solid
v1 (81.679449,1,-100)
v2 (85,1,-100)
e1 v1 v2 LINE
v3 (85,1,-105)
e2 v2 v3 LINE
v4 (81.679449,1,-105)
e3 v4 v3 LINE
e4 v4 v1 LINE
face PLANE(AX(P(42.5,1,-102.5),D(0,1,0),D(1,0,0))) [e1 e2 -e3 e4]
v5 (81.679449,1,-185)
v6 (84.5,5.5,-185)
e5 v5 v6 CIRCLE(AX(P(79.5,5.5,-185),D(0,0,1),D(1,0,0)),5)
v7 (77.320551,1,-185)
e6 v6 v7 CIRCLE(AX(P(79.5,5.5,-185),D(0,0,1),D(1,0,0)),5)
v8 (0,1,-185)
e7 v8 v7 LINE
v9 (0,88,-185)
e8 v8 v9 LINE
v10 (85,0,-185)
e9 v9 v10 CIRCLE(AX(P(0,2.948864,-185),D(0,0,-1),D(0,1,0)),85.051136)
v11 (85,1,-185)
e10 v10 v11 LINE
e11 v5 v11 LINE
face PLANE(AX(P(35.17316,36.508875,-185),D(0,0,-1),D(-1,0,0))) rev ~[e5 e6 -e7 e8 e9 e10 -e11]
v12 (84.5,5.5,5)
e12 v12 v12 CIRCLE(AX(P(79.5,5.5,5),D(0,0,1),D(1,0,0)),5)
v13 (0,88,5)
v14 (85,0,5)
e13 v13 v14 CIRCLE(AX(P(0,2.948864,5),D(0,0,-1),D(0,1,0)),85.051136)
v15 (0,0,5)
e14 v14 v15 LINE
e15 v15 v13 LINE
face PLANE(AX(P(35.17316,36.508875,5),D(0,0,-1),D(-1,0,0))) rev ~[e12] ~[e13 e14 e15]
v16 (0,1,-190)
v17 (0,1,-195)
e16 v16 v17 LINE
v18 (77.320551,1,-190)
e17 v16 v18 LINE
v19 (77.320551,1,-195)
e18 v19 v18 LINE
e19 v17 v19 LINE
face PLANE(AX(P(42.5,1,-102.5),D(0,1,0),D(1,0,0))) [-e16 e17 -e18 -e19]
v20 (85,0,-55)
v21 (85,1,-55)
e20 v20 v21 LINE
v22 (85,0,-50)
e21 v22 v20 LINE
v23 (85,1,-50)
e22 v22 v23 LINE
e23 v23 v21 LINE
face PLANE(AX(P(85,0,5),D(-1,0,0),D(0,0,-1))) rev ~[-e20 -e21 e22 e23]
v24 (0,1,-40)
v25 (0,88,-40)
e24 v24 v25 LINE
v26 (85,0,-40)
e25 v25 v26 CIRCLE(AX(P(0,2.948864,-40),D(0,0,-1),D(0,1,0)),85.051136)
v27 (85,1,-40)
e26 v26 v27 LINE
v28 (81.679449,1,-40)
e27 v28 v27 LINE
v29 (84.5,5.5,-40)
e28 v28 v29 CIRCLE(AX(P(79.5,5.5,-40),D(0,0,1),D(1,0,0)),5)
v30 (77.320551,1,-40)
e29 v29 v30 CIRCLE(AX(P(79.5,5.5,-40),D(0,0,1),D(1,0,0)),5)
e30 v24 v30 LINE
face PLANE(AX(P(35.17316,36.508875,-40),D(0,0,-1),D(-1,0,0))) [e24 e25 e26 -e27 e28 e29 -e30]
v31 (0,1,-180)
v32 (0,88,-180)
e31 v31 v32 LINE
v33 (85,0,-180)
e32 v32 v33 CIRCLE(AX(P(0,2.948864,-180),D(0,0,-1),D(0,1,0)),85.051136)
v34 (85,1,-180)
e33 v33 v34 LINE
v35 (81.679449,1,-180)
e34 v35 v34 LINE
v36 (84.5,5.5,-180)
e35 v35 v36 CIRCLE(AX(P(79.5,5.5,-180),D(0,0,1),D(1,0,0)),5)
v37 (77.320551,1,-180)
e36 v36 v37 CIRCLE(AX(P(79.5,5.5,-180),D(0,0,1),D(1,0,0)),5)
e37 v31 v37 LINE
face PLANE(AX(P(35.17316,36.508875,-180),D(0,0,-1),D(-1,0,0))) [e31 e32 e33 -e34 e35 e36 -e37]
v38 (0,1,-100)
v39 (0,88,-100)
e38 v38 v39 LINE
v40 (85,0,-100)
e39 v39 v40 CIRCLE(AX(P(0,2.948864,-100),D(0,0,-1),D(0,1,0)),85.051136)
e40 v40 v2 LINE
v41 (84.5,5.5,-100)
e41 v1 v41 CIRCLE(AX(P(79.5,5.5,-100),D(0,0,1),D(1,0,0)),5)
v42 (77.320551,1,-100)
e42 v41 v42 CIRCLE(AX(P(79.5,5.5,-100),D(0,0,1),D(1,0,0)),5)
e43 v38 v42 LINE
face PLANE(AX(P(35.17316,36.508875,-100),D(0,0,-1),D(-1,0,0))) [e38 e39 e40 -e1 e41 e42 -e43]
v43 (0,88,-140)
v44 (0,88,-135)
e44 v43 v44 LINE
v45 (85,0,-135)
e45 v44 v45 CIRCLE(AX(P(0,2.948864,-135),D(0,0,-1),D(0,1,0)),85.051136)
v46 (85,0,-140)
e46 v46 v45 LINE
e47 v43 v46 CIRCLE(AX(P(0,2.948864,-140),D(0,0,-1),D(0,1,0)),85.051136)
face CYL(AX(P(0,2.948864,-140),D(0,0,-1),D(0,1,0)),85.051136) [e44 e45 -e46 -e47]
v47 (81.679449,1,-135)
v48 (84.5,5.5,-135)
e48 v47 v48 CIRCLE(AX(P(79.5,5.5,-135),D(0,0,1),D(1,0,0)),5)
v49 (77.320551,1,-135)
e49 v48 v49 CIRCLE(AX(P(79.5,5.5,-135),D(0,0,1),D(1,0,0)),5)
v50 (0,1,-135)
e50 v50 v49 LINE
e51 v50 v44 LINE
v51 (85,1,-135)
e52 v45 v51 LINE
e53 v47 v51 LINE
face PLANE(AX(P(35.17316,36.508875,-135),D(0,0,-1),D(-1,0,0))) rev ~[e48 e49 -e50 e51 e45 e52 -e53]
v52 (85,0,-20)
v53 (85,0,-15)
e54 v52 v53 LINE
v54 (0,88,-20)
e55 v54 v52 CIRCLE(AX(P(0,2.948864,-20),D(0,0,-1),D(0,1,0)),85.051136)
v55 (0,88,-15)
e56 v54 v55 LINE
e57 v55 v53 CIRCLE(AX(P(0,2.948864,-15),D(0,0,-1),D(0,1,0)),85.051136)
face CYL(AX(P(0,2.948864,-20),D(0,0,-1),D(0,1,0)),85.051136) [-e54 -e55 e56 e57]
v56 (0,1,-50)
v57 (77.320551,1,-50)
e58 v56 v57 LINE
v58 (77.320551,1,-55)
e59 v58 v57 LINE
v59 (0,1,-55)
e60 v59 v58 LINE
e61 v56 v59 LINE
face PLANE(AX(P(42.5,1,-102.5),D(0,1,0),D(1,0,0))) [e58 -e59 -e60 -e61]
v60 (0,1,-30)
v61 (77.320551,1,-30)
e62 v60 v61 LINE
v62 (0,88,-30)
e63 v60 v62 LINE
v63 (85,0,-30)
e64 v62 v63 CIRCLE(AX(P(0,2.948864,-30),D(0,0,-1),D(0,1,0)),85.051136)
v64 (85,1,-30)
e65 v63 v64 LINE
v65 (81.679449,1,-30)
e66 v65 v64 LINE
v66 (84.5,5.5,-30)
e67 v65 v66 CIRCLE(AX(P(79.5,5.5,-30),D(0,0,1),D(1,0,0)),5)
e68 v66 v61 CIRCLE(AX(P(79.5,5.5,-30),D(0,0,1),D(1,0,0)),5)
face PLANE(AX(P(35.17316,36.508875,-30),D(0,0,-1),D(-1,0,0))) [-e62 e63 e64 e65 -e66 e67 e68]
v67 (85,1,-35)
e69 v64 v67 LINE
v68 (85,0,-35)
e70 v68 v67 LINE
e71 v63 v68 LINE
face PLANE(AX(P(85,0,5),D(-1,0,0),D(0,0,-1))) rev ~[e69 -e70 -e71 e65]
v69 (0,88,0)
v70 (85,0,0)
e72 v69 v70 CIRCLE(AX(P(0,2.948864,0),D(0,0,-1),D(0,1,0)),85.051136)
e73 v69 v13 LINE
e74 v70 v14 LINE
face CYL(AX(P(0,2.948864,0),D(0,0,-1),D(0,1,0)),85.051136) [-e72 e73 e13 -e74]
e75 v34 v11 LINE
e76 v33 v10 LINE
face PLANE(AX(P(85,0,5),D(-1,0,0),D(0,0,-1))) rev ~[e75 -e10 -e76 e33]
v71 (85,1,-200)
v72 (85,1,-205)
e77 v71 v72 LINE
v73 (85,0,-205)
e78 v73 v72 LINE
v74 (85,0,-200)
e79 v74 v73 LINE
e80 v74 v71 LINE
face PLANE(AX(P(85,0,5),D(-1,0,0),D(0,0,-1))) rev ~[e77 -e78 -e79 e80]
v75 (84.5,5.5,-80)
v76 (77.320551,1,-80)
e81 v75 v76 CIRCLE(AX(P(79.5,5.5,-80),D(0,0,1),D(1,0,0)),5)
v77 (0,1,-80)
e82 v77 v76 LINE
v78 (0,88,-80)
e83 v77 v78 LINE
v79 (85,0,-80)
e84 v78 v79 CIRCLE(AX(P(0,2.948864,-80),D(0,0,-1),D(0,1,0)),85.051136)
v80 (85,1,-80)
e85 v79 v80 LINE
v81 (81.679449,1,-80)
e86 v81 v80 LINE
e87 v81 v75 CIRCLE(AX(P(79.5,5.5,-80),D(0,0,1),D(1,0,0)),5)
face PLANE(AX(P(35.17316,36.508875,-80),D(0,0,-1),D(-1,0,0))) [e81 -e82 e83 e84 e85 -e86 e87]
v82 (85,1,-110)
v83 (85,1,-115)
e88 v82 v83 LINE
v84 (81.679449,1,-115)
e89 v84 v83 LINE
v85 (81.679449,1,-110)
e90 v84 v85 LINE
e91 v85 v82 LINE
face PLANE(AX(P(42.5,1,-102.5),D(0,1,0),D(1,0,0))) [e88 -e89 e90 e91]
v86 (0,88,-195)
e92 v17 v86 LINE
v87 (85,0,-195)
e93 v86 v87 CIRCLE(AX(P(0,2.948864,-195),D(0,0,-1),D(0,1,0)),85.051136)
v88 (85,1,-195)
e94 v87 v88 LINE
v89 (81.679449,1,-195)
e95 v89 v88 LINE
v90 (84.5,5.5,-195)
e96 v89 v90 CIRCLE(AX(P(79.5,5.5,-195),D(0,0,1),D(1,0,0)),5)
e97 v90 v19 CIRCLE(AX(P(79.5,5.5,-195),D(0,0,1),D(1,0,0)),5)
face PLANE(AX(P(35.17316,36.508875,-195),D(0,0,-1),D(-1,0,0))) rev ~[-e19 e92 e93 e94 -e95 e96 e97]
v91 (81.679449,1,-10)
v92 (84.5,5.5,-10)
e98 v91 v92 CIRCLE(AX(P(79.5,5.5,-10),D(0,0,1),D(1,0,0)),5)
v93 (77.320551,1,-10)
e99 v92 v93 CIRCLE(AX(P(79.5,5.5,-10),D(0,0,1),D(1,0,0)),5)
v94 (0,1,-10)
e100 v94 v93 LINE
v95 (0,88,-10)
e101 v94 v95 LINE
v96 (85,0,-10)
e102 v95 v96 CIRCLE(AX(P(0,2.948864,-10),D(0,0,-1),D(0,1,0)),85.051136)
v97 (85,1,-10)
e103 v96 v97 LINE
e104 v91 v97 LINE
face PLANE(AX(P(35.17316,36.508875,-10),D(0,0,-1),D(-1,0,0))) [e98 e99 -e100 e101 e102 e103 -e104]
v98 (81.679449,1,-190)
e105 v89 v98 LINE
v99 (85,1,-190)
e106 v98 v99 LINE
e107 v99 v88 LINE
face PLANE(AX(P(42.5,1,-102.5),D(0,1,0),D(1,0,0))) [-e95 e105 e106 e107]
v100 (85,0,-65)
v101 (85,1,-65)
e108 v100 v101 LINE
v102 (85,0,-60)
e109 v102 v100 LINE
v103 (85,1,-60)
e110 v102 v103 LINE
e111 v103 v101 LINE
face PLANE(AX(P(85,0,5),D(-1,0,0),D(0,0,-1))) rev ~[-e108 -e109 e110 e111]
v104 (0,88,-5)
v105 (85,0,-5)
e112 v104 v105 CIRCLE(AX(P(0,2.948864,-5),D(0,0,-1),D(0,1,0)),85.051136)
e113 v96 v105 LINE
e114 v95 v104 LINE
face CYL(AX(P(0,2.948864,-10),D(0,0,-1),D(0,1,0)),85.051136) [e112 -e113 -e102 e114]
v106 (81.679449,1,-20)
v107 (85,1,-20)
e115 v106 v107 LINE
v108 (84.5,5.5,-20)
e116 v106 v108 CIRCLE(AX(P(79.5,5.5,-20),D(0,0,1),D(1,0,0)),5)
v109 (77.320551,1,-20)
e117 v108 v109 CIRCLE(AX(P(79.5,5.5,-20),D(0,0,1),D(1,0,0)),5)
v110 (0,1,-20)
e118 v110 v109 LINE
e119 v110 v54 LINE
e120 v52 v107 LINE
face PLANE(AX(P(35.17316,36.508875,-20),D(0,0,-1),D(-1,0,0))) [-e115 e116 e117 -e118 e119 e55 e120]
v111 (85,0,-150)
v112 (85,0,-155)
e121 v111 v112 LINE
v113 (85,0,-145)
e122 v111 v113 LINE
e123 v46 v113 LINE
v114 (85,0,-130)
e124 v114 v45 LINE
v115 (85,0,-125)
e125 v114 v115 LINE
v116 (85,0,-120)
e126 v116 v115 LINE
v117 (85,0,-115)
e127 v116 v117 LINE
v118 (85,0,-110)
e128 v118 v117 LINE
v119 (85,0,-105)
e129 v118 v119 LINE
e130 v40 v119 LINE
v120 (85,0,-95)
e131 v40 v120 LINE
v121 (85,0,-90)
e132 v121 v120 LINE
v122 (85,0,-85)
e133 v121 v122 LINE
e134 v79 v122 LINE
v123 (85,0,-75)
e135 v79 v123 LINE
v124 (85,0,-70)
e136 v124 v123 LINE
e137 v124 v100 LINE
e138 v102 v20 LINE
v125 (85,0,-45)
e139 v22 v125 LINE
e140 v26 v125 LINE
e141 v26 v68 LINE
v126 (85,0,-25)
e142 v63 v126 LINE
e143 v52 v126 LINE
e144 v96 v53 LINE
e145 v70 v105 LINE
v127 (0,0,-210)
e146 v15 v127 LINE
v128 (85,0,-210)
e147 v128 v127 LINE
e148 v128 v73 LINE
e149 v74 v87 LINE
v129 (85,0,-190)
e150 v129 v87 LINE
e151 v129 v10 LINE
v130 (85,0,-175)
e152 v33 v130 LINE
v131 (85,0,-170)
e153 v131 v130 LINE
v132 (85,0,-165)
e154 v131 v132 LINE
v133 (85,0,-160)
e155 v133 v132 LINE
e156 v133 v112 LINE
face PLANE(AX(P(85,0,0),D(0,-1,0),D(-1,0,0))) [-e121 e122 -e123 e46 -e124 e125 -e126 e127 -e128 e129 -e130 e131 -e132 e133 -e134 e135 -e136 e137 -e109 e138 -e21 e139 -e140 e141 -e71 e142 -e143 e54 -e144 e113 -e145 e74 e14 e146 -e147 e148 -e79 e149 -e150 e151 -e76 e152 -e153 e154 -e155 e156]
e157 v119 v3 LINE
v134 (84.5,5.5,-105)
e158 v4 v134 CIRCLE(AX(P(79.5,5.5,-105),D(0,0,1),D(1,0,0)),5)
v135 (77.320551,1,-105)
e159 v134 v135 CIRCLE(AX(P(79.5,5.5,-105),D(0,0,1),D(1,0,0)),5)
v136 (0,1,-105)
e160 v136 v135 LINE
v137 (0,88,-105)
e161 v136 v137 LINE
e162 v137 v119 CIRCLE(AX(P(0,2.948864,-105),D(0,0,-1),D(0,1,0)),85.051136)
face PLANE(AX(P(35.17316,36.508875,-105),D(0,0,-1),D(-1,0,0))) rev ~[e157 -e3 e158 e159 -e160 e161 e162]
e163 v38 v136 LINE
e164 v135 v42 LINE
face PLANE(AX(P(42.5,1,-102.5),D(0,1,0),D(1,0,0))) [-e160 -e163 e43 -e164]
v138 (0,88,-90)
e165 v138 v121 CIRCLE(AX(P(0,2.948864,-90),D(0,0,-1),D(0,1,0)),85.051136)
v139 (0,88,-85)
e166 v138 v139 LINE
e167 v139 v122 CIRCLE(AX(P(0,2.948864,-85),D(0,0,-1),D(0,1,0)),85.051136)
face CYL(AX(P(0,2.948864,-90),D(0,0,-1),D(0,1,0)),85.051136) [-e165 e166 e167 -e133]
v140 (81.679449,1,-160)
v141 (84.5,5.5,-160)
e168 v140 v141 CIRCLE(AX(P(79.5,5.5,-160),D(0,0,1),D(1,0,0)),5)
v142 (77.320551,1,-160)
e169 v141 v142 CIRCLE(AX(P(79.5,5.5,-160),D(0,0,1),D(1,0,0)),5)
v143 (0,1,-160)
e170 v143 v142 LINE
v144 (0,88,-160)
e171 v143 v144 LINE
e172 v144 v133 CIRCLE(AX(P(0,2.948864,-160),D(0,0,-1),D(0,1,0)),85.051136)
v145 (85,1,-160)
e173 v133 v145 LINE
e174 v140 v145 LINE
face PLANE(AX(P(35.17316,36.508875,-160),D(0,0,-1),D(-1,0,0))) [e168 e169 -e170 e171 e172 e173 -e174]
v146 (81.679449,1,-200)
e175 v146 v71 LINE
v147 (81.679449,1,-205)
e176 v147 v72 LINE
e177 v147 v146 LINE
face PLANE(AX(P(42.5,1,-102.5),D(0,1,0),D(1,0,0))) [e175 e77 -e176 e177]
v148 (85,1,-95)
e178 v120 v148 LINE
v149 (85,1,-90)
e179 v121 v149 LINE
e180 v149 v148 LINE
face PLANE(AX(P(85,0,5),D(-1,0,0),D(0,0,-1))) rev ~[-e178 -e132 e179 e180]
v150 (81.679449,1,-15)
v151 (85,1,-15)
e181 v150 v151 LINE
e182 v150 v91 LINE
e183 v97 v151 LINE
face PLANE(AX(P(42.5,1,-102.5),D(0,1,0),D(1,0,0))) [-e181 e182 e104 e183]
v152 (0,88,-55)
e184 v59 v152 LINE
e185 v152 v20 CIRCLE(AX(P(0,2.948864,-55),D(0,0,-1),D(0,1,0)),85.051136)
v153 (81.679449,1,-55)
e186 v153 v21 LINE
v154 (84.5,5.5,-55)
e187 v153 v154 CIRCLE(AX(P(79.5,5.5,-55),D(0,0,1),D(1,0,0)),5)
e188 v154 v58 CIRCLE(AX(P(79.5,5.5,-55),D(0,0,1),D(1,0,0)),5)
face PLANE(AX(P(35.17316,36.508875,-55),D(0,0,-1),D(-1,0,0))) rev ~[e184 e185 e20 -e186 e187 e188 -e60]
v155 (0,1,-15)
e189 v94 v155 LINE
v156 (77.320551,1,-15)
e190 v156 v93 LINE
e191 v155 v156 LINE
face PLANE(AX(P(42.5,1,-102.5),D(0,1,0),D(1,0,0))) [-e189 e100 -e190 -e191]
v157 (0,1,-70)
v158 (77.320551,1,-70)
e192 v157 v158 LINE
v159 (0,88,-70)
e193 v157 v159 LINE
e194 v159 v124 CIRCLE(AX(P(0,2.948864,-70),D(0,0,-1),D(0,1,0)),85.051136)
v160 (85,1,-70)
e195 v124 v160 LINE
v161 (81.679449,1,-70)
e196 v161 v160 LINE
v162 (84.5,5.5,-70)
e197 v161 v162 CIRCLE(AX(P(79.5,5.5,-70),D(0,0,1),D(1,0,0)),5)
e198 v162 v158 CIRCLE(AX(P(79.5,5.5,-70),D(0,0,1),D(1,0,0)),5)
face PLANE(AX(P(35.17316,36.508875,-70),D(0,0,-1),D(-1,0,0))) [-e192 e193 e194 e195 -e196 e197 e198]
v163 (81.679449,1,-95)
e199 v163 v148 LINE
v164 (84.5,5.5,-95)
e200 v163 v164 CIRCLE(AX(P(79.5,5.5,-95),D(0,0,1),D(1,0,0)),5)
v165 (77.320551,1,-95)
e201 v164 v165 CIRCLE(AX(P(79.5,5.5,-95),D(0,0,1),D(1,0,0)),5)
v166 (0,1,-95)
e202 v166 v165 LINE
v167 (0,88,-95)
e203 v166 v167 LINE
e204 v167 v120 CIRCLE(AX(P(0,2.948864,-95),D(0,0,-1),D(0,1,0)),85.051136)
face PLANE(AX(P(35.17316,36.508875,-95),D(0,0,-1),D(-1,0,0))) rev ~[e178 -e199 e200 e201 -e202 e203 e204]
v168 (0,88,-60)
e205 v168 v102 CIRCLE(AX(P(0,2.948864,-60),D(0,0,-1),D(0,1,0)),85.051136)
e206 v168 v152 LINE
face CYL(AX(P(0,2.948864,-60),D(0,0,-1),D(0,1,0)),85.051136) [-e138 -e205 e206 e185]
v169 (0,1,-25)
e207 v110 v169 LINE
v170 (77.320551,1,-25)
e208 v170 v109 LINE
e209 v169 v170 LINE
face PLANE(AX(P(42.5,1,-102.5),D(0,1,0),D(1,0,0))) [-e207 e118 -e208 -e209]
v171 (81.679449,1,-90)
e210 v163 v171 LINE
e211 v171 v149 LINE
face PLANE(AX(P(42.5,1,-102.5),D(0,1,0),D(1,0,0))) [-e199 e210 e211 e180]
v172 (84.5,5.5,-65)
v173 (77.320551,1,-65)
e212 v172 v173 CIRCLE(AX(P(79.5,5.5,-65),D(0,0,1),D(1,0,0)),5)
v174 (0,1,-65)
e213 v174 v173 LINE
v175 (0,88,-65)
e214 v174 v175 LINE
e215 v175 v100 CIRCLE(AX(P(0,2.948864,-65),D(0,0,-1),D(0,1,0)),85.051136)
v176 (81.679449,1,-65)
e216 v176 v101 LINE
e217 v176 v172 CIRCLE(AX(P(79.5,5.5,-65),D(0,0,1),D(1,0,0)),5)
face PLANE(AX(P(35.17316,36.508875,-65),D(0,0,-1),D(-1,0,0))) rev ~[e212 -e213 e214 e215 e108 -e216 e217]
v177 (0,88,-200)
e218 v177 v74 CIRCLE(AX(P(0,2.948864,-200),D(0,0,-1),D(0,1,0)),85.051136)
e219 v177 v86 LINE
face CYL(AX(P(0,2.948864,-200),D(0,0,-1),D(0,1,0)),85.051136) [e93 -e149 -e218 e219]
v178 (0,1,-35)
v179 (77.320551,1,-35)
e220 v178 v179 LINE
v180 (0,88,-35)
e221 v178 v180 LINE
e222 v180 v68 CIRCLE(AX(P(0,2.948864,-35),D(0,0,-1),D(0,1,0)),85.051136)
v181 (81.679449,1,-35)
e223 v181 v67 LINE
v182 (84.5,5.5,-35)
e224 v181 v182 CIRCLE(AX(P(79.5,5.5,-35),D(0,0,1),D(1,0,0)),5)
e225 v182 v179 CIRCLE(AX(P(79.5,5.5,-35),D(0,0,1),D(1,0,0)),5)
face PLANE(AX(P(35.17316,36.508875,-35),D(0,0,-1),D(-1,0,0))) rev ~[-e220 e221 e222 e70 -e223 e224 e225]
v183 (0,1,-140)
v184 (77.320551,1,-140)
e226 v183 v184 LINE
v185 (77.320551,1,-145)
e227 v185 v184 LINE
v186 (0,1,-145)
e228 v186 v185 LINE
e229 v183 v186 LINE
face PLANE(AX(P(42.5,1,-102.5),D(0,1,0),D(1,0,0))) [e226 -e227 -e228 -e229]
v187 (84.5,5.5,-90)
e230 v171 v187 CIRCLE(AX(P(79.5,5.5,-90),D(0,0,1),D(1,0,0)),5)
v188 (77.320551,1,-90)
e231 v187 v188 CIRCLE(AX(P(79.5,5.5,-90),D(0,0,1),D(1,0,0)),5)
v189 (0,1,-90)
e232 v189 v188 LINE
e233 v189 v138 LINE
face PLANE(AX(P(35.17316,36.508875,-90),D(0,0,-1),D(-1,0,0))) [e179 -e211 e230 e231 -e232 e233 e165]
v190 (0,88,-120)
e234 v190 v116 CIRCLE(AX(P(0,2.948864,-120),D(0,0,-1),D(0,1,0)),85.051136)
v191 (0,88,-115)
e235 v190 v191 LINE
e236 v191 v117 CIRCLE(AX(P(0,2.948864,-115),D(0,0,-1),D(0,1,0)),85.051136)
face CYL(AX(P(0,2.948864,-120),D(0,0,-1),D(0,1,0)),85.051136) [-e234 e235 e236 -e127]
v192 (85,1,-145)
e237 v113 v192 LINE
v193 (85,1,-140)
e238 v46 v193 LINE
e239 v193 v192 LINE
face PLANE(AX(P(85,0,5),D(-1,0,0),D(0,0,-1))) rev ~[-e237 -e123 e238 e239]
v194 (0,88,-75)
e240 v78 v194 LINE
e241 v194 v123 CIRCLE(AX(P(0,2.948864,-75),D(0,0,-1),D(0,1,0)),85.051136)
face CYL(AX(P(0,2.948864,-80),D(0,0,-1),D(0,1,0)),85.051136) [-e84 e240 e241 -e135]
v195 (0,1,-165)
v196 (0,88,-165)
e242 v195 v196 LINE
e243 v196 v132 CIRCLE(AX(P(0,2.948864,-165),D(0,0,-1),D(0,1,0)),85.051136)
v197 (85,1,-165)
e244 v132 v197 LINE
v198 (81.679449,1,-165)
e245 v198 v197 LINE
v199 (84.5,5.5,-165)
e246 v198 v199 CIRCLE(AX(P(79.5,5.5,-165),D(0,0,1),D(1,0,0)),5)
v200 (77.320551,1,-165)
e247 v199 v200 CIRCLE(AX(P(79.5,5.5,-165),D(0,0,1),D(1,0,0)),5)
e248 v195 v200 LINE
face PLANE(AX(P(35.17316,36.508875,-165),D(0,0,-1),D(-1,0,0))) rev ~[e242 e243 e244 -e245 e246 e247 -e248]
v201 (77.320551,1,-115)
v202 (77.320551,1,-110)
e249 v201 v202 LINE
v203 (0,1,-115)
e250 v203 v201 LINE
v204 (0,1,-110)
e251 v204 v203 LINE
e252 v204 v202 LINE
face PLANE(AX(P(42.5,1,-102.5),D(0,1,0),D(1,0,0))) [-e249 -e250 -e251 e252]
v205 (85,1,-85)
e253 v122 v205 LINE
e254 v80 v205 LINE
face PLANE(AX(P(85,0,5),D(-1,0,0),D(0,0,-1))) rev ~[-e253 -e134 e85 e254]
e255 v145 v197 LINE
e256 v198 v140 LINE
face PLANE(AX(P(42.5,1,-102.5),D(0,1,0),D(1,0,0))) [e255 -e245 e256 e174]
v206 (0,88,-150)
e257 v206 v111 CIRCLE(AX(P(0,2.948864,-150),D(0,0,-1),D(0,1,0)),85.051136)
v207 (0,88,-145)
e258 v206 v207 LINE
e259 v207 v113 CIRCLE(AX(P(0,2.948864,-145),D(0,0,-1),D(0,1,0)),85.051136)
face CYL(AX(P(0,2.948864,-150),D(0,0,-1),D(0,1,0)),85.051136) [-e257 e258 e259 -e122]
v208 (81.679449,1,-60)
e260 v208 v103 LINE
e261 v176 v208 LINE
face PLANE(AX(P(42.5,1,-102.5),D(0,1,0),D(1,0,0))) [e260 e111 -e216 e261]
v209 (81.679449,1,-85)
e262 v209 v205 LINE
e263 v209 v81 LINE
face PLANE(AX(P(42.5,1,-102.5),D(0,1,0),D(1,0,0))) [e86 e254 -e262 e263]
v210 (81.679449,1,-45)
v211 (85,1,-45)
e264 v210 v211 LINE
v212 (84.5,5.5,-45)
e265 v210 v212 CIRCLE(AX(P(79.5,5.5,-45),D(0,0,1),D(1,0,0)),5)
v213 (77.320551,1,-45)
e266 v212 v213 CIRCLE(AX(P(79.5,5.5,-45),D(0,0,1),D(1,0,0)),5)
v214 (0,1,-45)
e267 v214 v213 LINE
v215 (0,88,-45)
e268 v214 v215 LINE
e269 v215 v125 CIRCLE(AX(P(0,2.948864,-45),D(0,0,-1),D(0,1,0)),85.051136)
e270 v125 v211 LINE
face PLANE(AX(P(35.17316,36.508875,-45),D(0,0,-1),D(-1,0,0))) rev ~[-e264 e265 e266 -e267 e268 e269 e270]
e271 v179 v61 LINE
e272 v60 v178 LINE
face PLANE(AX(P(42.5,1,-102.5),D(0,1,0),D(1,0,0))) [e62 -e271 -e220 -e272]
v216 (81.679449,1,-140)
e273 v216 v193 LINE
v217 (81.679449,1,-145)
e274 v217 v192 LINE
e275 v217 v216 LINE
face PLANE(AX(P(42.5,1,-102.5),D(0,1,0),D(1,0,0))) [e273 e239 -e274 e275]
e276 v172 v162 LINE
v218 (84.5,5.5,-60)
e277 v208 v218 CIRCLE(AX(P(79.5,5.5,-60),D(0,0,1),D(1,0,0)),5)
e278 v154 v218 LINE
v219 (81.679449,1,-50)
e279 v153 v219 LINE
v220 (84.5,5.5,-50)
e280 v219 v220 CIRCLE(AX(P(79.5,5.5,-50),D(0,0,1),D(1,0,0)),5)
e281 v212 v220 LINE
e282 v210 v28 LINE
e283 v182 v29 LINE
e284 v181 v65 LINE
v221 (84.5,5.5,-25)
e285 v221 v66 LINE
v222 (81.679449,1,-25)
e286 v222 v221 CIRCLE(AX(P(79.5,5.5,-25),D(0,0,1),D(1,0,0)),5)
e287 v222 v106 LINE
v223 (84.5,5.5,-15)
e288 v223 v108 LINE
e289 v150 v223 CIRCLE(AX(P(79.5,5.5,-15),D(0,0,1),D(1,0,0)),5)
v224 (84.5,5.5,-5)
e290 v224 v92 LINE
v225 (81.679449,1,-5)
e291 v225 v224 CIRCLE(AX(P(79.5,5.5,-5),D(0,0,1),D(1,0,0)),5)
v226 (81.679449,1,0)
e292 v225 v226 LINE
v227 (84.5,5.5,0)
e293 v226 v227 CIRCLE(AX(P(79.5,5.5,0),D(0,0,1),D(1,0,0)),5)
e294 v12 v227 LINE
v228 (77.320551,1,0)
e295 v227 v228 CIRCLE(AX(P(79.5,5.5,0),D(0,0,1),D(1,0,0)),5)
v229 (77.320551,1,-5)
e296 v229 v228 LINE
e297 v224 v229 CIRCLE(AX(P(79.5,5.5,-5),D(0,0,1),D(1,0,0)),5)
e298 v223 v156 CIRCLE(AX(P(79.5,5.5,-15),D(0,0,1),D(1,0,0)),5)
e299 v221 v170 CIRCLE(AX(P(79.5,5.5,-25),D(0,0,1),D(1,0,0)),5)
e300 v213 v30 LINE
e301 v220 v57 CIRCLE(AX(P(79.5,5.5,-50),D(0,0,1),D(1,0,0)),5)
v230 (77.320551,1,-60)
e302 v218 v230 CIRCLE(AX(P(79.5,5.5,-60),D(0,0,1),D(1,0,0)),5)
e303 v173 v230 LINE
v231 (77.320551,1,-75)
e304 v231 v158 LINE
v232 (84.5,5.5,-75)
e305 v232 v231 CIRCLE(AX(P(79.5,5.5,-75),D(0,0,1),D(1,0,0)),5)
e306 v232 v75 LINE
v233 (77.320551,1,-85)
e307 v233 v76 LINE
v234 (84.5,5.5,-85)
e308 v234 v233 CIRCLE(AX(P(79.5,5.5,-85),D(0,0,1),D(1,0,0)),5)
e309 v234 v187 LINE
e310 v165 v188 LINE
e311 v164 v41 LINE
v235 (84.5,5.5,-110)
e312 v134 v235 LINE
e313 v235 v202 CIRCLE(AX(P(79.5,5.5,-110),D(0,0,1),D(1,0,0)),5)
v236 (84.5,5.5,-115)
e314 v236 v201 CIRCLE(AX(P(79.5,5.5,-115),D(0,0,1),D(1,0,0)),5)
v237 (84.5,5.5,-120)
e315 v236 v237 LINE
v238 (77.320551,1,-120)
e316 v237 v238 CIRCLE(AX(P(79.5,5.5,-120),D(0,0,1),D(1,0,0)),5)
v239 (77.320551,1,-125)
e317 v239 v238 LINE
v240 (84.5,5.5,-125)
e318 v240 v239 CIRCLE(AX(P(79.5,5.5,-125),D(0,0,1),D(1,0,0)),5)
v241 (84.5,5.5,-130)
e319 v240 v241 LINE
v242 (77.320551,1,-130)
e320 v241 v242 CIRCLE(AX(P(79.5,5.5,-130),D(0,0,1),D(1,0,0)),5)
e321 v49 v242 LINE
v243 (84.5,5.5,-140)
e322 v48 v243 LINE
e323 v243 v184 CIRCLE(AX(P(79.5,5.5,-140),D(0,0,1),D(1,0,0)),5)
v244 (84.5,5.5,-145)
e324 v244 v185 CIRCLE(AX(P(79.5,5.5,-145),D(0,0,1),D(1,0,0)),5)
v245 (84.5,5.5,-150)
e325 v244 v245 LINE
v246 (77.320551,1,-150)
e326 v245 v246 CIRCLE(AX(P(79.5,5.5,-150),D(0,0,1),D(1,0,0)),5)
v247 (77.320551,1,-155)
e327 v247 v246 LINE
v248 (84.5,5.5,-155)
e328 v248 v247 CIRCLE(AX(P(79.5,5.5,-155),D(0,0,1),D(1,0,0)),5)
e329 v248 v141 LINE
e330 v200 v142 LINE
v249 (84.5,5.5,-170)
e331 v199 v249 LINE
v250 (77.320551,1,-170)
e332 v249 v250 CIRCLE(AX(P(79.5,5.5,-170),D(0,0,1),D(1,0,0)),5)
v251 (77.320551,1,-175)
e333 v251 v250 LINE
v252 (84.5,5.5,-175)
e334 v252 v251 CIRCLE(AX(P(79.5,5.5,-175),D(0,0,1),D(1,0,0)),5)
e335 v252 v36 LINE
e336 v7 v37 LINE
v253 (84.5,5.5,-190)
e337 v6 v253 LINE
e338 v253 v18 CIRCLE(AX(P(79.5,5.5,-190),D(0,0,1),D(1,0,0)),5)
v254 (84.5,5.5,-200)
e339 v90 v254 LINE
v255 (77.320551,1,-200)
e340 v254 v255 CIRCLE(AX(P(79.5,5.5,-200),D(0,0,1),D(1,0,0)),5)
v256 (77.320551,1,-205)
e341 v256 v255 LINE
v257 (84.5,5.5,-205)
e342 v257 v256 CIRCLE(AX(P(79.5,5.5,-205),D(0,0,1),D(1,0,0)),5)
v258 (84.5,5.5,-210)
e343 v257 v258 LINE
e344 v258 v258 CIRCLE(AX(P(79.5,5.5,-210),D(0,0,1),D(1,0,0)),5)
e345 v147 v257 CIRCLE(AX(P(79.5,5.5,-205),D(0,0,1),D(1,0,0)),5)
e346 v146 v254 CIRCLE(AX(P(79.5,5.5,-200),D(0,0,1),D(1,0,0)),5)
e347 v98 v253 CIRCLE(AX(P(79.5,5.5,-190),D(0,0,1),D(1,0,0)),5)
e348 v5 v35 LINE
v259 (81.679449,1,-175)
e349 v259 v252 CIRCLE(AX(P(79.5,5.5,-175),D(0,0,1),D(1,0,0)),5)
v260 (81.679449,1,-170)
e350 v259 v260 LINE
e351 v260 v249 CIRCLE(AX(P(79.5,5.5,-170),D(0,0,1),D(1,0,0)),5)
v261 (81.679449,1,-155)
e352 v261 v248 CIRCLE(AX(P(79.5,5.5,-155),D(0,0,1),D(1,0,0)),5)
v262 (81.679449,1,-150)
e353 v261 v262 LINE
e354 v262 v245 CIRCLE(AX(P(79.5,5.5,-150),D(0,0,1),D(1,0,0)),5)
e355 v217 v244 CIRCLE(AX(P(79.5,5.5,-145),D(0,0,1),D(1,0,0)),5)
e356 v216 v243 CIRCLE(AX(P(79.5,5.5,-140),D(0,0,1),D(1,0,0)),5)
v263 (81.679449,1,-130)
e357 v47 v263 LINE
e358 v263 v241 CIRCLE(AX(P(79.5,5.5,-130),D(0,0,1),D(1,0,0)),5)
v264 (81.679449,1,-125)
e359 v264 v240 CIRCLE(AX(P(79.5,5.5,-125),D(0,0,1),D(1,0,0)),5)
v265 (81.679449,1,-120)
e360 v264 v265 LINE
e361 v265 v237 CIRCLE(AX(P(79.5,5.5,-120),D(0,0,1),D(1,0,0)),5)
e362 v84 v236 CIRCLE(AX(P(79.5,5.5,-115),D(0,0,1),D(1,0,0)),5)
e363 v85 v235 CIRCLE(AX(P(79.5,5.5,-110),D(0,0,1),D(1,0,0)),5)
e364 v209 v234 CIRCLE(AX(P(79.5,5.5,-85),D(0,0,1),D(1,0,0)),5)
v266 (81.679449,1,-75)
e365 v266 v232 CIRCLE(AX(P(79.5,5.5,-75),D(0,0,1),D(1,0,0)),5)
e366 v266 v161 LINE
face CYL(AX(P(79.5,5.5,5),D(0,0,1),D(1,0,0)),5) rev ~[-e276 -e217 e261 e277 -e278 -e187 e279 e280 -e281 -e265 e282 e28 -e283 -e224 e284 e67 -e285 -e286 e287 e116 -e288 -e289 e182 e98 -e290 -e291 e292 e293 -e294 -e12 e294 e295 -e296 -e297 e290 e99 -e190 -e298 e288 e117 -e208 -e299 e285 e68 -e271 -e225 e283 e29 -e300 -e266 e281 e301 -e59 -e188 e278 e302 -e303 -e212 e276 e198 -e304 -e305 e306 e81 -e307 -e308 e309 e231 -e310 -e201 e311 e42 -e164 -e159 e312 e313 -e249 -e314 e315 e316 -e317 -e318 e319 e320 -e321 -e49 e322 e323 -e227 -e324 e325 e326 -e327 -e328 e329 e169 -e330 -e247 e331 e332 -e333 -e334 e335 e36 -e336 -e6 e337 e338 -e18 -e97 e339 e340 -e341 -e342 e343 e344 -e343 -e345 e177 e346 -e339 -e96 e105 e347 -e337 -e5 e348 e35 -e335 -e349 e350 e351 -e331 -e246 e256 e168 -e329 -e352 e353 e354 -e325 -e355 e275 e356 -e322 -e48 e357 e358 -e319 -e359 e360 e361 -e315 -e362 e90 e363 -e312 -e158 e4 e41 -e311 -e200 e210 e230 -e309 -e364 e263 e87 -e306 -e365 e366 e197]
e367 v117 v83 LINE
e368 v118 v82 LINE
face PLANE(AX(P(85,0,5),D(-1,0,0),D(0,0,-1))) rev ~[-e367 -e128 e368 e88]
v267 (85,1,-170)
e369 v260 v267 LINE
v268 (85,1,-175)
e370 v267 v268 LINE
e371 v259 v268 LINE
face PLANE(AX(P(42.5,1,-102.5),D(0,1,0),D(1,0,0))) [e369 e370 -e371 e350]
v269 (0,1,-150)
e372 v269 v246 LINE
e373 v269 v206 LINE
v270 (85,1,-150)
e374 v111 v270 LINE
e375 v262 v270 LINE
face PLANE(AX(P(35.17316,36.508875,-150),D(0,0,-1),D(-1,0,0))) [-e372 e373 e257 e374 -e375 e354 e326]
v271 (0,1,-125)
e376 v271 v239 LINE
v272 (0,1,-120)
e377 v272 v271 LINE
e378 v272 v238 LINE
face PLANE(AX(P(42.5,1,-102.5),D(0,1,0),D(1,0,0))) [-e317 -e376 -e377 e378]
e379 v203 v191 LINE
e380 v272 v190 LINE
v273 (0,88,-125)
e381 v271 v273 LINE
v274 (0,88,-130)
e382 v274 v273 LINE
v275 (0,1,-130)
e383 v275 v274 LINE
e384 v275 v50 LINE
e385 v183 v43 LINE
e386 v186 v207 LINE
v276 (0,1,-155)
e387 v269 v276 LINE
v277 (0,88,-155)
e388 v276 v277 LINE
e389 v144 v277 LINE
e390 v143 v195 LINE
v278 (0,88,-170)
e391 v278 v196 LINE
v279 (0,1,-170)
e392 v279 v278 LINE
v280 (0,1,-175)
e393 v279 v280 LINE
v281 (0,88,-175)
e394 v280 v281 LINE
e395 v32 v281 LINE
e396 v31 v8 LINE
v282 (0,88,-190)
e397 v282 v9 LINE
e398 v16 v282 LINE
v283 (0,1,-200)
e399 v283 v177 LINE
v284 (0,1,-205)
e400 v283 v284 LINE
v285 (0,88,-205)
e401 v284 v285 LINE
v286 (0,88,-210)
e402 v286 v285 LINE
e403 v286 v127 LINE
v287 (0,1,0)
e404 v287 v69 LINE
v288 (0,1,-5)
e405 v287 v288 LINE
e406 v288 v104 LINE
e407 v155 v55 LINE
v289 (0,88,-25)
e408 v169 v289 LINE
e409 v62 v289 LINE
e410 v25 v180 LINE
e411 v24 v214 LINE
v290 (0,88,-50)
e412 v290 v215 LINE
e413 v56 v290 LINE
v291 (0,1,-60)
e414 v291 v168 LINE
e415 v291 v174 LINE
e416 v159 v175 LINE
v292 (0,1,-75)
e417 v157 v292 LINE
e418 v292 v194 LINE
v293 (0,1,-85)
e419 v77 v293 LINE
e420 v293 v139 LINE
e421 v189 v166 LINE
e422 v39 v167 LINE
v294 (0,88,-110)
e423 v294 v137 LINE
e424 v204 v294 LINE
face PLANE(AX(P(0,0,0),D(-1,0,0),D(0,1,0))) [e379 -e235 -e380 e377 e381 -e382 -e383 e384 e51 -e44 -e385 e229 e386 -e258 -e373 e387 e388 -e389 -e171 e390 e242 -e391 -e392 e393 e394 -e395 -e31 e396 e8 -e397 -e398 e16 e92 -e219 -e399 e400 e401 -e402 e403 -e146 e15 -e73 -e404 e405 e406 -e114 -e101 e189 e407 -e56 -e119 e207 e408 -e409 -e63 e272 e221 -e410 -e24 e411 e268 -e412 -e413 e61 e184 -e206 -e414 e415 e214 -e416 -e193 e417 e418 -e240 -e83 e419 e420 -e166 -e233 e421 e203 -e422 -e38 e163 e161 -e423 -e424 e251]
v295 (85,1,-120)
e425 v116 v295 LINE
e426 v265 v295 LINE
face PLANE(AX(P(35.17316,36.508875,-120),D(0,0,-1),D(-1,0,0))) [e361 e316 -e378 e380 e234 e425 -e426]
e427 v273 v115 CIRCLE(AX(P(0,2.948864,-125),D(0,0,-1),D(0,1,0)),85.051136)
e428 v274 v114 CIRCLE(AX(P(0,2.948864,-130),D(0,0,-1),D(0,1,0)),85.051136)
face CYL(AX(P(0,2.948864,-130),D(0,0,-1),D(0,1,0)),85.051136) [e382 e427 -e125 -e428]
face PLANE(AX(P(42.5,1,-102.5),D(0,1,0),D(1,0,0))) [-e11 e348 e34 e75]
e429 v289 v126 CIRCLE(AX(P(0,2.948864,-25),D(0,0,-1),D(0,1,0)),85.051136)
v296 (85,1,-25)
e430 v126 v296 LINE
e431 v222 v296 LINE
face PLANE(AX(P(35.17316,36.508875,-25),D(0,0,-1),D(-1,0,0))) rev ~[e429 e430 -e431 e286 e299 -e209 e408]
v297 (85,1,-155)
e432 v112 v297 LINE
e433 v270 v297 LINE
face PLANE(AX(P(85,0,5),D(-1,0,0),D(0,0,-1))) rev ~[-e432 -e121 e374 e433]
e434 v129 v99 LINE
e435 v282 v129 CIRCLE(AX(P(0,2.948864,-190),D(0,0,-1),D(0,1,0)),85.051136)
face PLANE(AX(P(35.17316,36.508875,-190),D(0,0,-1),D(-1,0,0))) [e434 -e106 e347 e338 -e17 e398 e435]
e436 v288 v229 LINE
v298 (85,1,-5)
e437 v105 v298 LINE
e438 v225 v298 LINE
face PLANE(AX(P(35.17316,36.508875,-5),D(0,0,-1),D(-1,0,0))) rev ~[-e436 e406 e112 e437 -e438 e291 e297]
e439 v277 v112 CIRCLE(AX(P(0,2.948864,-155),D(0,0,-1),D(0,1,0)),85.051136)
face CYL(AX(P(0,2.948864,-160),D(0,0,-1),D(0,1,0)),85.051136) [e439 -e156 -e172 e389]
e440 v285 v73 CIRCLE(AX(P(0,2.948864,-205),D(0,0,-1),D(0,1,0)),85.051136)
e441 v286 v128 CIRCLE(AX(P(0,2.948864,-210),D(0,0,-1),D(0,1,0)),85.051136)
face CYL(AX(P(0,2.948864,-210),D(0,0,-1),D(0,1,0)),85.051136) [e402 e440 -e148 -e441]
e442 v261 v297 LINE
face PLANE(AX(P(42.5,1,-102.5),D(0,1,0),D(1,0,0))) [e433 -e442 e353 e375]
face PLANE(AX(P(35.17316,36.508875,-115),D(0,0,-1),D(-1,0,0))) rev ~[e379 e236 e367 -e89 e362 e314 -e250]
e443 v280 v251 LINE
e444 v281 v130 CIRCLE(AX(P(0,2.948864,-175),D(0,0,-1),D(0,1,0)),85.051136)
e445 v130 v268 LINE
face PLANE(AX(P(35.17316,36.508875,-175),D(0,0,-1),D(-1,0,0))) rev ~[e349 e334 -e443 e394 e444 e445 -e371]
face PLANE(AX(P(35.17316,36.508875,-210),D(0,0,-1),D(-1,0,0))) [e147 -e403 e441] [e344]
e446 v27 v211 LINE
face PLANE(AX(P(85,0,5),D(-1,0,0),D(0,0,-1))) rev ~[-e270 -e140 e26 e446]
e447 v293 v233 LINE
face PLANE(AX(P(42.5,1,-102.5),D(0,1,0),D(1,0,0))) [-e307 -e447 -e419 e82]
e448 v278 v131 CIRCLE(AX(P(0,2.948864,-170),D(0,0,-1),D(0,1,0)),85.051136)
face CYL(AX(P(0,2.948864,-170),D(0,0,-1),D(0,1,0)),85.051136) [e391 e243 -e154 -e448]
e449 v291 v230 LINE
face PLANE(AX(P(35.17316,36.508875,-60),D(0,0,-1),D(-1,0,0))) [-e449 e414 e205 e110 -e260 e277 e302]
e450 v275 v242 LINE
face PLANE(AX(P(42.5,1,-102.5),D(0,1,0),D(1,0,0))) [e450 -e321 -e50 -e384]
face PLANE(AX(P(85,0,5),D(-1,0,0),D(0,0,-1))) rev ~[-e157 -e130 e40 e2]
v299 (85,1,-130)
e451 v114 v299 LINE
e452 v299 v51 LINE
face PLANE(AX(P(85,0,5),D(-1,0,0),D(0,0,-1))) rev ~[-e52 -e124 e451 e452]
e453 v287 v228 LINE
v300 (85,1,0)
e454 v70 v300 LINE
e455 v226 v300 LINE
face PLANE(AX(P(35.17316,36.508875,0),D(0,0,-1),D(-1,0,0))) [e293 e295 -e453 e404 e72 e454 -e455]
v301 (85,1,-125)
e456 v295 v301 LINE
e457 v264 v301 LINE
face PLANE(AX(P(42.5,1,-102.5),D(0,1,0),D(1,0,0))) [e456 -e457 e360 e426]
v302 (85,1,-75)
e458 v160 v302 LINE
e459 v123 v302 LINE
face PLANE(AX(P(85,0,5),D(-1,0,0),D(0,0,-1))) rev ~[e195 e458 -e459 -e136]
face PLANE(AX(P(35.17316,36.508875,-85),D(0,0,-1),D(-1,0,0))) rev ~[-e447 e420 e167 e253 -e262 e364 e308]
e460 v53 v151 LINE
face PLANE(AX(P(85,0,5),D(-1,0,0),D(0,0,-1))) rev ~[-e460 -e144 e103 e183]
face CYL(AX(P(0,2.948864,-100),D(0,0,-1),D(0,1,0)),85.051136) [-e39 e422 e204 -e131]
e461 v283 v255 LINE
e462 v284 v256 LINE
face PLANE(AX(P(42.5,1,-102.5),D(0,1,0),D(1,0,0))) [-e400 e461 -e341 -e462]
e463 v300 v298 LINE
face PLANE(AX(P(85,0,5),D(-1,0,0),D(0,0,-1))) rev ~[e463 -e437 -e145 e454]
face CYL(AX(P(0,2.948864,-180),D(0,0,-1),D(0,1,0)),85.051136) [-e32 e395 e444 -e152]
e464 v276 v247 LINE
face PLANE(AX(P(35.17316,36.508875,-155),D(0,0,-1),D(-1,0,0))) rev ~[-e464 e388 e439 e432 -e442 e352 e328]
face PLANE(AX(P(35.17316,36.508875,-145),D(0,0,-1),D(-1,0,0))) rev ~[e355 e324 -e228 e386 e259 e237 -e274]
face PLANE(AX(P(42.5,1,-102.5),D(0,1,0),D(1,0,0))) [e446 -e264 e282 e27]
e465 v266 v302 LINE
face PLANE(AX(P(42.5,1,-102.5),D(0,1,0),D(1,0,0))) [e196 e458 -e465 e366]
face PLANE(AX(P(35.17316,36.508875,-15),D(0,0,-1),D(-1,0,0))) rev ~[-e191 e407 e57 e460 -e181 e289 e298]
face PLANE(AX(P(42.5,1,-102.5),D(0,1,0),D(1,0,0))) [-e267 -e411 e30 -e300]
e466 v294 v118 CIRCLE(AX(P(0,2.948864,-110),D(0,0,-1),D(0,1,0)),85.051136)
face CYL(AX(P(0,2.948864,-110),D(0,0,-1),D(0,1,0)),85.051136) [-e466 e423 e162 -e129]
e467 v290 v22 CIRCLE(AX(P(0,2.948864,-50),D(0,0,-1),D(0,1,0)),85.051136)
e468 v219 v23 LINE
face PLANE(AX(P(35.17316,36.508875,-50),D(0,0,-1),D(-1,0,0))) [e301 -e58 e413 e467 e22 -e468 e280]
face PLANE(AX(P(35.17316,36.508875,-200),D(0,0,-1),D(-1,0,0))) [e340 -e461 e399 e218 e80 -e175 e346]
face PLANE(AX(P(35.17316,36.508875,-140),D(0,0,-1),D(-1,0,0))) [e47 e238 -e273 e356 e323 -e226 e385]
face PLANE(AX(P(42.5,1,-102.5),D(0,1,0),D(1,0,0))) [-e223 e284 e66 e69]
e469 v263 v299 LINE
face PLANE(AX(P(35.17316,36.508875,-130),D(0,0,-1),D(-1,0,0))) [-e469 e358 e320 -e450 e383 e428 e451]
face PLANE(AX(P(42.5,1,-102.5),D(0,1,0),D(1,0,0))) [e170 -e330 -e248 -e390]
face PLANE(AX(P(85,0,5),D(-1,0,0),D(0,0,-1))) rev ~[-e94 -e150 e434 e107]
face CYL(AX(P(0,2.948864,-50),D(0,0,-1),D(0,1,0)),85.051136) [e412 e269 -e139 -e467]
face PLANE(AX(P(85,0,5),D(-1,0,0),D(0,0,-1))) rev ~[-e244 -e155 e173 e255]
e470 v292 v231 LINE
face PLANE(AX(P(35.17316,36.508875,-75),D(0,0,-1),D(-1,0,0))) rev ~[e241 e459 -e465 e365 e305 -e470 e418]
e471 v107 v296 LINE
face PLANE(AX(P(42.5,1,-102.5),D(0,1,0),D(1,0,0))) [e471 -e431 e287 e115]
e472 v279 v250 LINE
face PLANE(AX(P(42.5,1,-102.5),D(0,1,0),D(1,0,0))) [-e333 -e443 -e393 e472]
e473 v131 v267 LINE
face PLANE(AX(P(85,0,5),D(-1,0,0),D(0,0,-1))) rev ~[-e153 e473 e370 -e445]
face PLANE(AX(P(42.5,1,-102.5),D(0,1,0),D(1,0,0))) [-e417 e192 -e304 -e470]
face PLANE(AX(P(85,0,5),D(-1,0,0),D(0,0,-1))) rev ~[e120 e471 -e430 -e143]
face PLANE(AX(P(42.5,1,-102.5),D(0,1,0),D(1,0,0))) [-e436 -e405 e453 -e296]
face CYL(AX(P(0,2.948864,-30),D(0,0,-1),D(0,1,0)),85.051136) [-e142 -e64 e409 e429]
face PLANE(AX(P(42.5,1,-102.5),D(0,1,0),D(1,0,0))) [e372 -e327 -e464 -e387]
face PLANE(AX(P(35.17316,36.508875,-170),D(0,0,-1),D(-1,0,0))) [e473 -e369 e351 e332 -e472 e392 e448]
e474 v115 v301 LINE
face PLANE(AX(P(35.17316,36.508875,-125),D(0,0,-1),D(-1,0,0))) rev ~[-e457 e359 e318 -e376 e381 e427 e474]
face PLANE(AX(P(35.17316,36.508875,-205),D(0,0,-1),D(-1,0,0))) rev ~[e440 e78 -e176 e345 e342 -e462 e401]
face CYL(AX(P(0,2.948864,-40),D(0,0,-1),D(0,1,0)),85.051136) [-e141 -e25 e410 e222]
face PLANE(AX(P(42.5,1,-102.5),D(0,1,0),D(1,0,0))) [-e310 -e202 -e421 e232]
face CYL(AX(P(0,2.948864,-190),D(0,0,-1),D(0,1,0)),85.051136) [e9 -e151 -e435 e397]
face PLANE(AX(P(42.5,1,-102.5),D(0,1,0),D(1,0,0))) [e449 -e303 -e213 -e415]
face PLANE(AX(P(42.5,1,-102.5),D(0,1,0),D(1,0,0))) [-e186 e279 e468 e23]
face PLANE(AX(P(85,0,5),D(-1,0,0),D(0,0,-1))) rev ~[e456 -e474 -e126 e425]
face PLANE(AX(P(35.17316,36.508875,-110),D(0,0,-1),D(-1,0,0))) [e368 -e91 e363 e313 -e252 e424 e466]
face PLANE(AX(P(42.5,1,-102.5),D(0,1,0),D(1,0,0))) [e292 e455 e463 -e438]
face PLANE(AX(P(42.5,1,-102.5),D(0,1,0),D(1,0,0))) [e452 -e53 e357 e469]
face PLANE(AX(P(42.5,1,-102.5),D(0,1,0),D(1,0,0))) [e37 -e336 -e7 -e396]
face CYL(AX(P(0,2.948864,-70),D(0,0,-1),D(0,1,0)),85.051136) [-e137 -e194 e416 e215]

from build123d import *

# Parameters (mm, degrees)
BOSS_EXTRUDE1_DEPTH = 5
LPATTERN1_COUNT     = 22
LPATTERN1_PITCH     = 10
SKETCH3_W           = 85
SKETCH3_H           = 215
BOSS_EXTRUDE2_DEPTH = 1
SKETCH2_R           = 5
CUT_EXTRUDE3_DEPTH  = 248.391786033


with BuildPart() as part:
    # Sketch1 → Boss-Extrude1 (new body)
    with BuildSketch(Plane.XY):
        with BuildLine():
            Line((85, 0), (0, 0))
            Line((0, 0), (0, 88))
            ThreePointArc((0, 88), (61.173932357, 62.037321026), (85, 0))
        make_face()
    extrude(amount=BOSS_EXTRUDE1_DEPTH)


with BuildPart() as lpattern1_1:
    # LPattern1: pattern copy
    add(part.part.moved(Location(Vector(0, 0, -1) * (1 * LPATTERN1_PITCH))))


with BuildPart() as lpattern1_2:
    # LPattern1: pattern copy
    add(part.part.moved(Location(Vector(0, 0, -1) * (2 * LPATTERN1_PITCH))))


with BuildPart() as lpattern1_3:
    # LPattern1: pattern copy
    add(part.part.moved(Location(Vector(0, 0, -1) * (3 * LPATTERN1_PITCH))))


with BuildPart() as lpattern1_4:
    # LPattern1: pattern copy
    add(part.part.moved(Location(Vector(0, 0, -1) * (4 * LPATTERN1_PITCH))))


with BuildPart() as lpattern1_5:
    # LPattern1: pattern copy
    add(part.part.moved(Location(Vector(0, 0, -1) * (5 * LPATTERN1_PITCH))))


with BuildPart() as lpattern1_6:
    # LPattern1: pattern copy
    add(part.part.moved(Location(Vector(0, 0, -1) * (6 * LPATTERN1_PITCH))))


with BuildPart() as lpattern1_7:
    # LPattern1: pattern copy
    add(part.part.moved(Location(Vector(0, 0, -1) * (7 * LPATTERN1_PITCH))))


with BuildPart() as lpattern1_8:
    # LPattern1: pattern copy
    add(part.part.moved(Location(Vector(0, 0, -1) * (8 * LPATTERN1_PITCH))))


with BuildPart() as lpattern1_9:
    # LPattern1: pattern copy
    add(part.part.moved(Location(Vector(0, 0, -1) * (9 * LPATTERN1_PITCH))))


with BuildPart() as lpattern1_10:
    # LPattern1: pattern copy
    add(part.part.moved(Location(Vector(0, 0, -1) * (10 * LPATTERN1_PITCH))))


with BuildPart() as lpattern1_11:
    # LPattern1: pattern copy
    add(part.part.moved(Location(Vector(0, 0, -1) * (11 * LPATTERN1_PITCH))))


with BuildPart() as lpattern1_12:
    # LPattern1: pattern copy
    add(part.part.moved(Location(Vector(0, 0, -1) * (12 * LPATTERN1_PITCH))))


with BuildPart() as lpattern1_13:
    # LPattern1: pattern copy
    add(part.part.moved(Location(Vector(0, 0, -1) * (13 * LPATTERN1_PITCH))))


with BuildPart() as lpattern1_14:
    # LPattern1: pattern copy
    add(part.part.moved(Location(Vector(0, 0, -1) * (14 * LPATTERN1_PITCH))))


with BuildPart() as lpattern1_15:
    # LPattern1: pattern copy
    add(part.part.moved(Location(Vector(0, 0, -1) * (15 * LPATTERN1_PITCH))))


with BuildPart() as lpattern1_16:
    # LPattern1: pattern copy
    add(part.part.moved(Location(Vector(0, 0, -1) * (16 * LPATTERN1_PITCH))))


with BuildPart() as lpattern1_17:
    # LPattern1: pattern copy
    add(part.part.moved(Location(Vector(0, 0, -1) * (17 * LPATTERN1_PITCH))))


with BuildPart() as lpattern1_18:
    # LPattern1: pattern copy
    add(part.part.moved(Location(Vector(0, 0, -1) * (18 * LPATTERN1_PITCH))))


with BuildPart() as lpattern1_19:
    # LPattern1: pattern copy
    add(part.part.moved(Location(Vector(0, 0, -1) * (19 * LPATTERN1_PITCH))))


with BuildPart() as lpattern1_20:
    # LPattern1: pattern copy
    add(part.part.moved(Location(Vector(0, 0, -1) * (20 * LPATTERN1_PITCH))))


with BuildPart() as lpattern1_21:
    # LPattern1: pattern copy
    add(part.part.moved(Location(Vector(0, 0, -1) * (21 * LPATTERN1_PITCH))))


with BuildPart() as part_1:
    add(part.part)

    add(lpattern1_1.part)  # Boss-Extrude2 merges LPattern1_1

    add(lpattern1_2.part)  # Boss-Extrude2 merges LPattern1_2

    add(lpattern1_3.part)  # Boss-Extrude2 merges LPattern1_3

    add(lpattern1_4.part)  # Boss-Extrude2 merges LPattern1_4

    add(lpattern1_5.part)  # Boss-Extrude2 merges LPattern1_5

    add(lpattern1_6.part)  # Boss-Extrude2 merges LPattern1_6

    add(lpattern1_7.part)  # Boss-Extrude2 merges LPattern1_7

    add(lpattern1_8.part)  # Boss-Extrude2 merges LPattern1_8

    add(lpattern1_9.part)  # Boss-Extrude2 merges LPattern1_9

    add(lpattern1_10.part)  # Boss-Extrude2 merges LPattern1_10

    add(lpattern1_11.part)  # Boss-Extrude2 merges LPattern1_11

    add(lpattern1_12.part)  # Boss-Extrude2 merges LPattern1_12

    add(lpattern1_13.part)  # Boss-Extrude2 merges LPattern1_13

    add(lpattern1_14.part)  # Boss-Extrude2 merges LPattern1_14

    add(lpattern1_15.part)  # Boss-Extrude2 merges LPattern1_15

    add(lpattern1_16.part)  # Boss-Extrude2 merges LPattern1_16

    add(lpattern1_17.part)  # Boss-Extrude2 merges LPattern1_17

    add(lpattern1_18.part)  # Boss-Extrude2 merges LPattern1_18

    add(lpattern1_19.part)  # Boss-Extrude2 merges LPattern1_19

    add(lpattern1_20.part)  # Boss-Extrude2 merges LPattern1_20

    add(lpattern1_21.part)  # Boss-Extrude2 merges LPattern1_21
    # Sketch3 → Boss-Extrude2 (add)
    with BuildSketch(Plane(origin=(0, 0, 0), x_dir=(1, 0, 0), z_dir=(0, 1, 0))):
        with Locations((42.5, 102.5)):
            Rectangle(SKETCH3_W, SKETCH3_H)
    extrude(amount=BOSS_EXTRUDE2_DEPTH)

    # Sketch2 → Cut-Extrude3 (cut, through all)
    with BuildSketch(Plane.XY.offset(5)):
        with Locations((79.5, 5.5)):
            Circle(SKETCH2_R)
    extrude(amount=-CUT_EXTRUDE3_DEPTH, mode=Mode.SUBTRACT)


solid = part_1.part
